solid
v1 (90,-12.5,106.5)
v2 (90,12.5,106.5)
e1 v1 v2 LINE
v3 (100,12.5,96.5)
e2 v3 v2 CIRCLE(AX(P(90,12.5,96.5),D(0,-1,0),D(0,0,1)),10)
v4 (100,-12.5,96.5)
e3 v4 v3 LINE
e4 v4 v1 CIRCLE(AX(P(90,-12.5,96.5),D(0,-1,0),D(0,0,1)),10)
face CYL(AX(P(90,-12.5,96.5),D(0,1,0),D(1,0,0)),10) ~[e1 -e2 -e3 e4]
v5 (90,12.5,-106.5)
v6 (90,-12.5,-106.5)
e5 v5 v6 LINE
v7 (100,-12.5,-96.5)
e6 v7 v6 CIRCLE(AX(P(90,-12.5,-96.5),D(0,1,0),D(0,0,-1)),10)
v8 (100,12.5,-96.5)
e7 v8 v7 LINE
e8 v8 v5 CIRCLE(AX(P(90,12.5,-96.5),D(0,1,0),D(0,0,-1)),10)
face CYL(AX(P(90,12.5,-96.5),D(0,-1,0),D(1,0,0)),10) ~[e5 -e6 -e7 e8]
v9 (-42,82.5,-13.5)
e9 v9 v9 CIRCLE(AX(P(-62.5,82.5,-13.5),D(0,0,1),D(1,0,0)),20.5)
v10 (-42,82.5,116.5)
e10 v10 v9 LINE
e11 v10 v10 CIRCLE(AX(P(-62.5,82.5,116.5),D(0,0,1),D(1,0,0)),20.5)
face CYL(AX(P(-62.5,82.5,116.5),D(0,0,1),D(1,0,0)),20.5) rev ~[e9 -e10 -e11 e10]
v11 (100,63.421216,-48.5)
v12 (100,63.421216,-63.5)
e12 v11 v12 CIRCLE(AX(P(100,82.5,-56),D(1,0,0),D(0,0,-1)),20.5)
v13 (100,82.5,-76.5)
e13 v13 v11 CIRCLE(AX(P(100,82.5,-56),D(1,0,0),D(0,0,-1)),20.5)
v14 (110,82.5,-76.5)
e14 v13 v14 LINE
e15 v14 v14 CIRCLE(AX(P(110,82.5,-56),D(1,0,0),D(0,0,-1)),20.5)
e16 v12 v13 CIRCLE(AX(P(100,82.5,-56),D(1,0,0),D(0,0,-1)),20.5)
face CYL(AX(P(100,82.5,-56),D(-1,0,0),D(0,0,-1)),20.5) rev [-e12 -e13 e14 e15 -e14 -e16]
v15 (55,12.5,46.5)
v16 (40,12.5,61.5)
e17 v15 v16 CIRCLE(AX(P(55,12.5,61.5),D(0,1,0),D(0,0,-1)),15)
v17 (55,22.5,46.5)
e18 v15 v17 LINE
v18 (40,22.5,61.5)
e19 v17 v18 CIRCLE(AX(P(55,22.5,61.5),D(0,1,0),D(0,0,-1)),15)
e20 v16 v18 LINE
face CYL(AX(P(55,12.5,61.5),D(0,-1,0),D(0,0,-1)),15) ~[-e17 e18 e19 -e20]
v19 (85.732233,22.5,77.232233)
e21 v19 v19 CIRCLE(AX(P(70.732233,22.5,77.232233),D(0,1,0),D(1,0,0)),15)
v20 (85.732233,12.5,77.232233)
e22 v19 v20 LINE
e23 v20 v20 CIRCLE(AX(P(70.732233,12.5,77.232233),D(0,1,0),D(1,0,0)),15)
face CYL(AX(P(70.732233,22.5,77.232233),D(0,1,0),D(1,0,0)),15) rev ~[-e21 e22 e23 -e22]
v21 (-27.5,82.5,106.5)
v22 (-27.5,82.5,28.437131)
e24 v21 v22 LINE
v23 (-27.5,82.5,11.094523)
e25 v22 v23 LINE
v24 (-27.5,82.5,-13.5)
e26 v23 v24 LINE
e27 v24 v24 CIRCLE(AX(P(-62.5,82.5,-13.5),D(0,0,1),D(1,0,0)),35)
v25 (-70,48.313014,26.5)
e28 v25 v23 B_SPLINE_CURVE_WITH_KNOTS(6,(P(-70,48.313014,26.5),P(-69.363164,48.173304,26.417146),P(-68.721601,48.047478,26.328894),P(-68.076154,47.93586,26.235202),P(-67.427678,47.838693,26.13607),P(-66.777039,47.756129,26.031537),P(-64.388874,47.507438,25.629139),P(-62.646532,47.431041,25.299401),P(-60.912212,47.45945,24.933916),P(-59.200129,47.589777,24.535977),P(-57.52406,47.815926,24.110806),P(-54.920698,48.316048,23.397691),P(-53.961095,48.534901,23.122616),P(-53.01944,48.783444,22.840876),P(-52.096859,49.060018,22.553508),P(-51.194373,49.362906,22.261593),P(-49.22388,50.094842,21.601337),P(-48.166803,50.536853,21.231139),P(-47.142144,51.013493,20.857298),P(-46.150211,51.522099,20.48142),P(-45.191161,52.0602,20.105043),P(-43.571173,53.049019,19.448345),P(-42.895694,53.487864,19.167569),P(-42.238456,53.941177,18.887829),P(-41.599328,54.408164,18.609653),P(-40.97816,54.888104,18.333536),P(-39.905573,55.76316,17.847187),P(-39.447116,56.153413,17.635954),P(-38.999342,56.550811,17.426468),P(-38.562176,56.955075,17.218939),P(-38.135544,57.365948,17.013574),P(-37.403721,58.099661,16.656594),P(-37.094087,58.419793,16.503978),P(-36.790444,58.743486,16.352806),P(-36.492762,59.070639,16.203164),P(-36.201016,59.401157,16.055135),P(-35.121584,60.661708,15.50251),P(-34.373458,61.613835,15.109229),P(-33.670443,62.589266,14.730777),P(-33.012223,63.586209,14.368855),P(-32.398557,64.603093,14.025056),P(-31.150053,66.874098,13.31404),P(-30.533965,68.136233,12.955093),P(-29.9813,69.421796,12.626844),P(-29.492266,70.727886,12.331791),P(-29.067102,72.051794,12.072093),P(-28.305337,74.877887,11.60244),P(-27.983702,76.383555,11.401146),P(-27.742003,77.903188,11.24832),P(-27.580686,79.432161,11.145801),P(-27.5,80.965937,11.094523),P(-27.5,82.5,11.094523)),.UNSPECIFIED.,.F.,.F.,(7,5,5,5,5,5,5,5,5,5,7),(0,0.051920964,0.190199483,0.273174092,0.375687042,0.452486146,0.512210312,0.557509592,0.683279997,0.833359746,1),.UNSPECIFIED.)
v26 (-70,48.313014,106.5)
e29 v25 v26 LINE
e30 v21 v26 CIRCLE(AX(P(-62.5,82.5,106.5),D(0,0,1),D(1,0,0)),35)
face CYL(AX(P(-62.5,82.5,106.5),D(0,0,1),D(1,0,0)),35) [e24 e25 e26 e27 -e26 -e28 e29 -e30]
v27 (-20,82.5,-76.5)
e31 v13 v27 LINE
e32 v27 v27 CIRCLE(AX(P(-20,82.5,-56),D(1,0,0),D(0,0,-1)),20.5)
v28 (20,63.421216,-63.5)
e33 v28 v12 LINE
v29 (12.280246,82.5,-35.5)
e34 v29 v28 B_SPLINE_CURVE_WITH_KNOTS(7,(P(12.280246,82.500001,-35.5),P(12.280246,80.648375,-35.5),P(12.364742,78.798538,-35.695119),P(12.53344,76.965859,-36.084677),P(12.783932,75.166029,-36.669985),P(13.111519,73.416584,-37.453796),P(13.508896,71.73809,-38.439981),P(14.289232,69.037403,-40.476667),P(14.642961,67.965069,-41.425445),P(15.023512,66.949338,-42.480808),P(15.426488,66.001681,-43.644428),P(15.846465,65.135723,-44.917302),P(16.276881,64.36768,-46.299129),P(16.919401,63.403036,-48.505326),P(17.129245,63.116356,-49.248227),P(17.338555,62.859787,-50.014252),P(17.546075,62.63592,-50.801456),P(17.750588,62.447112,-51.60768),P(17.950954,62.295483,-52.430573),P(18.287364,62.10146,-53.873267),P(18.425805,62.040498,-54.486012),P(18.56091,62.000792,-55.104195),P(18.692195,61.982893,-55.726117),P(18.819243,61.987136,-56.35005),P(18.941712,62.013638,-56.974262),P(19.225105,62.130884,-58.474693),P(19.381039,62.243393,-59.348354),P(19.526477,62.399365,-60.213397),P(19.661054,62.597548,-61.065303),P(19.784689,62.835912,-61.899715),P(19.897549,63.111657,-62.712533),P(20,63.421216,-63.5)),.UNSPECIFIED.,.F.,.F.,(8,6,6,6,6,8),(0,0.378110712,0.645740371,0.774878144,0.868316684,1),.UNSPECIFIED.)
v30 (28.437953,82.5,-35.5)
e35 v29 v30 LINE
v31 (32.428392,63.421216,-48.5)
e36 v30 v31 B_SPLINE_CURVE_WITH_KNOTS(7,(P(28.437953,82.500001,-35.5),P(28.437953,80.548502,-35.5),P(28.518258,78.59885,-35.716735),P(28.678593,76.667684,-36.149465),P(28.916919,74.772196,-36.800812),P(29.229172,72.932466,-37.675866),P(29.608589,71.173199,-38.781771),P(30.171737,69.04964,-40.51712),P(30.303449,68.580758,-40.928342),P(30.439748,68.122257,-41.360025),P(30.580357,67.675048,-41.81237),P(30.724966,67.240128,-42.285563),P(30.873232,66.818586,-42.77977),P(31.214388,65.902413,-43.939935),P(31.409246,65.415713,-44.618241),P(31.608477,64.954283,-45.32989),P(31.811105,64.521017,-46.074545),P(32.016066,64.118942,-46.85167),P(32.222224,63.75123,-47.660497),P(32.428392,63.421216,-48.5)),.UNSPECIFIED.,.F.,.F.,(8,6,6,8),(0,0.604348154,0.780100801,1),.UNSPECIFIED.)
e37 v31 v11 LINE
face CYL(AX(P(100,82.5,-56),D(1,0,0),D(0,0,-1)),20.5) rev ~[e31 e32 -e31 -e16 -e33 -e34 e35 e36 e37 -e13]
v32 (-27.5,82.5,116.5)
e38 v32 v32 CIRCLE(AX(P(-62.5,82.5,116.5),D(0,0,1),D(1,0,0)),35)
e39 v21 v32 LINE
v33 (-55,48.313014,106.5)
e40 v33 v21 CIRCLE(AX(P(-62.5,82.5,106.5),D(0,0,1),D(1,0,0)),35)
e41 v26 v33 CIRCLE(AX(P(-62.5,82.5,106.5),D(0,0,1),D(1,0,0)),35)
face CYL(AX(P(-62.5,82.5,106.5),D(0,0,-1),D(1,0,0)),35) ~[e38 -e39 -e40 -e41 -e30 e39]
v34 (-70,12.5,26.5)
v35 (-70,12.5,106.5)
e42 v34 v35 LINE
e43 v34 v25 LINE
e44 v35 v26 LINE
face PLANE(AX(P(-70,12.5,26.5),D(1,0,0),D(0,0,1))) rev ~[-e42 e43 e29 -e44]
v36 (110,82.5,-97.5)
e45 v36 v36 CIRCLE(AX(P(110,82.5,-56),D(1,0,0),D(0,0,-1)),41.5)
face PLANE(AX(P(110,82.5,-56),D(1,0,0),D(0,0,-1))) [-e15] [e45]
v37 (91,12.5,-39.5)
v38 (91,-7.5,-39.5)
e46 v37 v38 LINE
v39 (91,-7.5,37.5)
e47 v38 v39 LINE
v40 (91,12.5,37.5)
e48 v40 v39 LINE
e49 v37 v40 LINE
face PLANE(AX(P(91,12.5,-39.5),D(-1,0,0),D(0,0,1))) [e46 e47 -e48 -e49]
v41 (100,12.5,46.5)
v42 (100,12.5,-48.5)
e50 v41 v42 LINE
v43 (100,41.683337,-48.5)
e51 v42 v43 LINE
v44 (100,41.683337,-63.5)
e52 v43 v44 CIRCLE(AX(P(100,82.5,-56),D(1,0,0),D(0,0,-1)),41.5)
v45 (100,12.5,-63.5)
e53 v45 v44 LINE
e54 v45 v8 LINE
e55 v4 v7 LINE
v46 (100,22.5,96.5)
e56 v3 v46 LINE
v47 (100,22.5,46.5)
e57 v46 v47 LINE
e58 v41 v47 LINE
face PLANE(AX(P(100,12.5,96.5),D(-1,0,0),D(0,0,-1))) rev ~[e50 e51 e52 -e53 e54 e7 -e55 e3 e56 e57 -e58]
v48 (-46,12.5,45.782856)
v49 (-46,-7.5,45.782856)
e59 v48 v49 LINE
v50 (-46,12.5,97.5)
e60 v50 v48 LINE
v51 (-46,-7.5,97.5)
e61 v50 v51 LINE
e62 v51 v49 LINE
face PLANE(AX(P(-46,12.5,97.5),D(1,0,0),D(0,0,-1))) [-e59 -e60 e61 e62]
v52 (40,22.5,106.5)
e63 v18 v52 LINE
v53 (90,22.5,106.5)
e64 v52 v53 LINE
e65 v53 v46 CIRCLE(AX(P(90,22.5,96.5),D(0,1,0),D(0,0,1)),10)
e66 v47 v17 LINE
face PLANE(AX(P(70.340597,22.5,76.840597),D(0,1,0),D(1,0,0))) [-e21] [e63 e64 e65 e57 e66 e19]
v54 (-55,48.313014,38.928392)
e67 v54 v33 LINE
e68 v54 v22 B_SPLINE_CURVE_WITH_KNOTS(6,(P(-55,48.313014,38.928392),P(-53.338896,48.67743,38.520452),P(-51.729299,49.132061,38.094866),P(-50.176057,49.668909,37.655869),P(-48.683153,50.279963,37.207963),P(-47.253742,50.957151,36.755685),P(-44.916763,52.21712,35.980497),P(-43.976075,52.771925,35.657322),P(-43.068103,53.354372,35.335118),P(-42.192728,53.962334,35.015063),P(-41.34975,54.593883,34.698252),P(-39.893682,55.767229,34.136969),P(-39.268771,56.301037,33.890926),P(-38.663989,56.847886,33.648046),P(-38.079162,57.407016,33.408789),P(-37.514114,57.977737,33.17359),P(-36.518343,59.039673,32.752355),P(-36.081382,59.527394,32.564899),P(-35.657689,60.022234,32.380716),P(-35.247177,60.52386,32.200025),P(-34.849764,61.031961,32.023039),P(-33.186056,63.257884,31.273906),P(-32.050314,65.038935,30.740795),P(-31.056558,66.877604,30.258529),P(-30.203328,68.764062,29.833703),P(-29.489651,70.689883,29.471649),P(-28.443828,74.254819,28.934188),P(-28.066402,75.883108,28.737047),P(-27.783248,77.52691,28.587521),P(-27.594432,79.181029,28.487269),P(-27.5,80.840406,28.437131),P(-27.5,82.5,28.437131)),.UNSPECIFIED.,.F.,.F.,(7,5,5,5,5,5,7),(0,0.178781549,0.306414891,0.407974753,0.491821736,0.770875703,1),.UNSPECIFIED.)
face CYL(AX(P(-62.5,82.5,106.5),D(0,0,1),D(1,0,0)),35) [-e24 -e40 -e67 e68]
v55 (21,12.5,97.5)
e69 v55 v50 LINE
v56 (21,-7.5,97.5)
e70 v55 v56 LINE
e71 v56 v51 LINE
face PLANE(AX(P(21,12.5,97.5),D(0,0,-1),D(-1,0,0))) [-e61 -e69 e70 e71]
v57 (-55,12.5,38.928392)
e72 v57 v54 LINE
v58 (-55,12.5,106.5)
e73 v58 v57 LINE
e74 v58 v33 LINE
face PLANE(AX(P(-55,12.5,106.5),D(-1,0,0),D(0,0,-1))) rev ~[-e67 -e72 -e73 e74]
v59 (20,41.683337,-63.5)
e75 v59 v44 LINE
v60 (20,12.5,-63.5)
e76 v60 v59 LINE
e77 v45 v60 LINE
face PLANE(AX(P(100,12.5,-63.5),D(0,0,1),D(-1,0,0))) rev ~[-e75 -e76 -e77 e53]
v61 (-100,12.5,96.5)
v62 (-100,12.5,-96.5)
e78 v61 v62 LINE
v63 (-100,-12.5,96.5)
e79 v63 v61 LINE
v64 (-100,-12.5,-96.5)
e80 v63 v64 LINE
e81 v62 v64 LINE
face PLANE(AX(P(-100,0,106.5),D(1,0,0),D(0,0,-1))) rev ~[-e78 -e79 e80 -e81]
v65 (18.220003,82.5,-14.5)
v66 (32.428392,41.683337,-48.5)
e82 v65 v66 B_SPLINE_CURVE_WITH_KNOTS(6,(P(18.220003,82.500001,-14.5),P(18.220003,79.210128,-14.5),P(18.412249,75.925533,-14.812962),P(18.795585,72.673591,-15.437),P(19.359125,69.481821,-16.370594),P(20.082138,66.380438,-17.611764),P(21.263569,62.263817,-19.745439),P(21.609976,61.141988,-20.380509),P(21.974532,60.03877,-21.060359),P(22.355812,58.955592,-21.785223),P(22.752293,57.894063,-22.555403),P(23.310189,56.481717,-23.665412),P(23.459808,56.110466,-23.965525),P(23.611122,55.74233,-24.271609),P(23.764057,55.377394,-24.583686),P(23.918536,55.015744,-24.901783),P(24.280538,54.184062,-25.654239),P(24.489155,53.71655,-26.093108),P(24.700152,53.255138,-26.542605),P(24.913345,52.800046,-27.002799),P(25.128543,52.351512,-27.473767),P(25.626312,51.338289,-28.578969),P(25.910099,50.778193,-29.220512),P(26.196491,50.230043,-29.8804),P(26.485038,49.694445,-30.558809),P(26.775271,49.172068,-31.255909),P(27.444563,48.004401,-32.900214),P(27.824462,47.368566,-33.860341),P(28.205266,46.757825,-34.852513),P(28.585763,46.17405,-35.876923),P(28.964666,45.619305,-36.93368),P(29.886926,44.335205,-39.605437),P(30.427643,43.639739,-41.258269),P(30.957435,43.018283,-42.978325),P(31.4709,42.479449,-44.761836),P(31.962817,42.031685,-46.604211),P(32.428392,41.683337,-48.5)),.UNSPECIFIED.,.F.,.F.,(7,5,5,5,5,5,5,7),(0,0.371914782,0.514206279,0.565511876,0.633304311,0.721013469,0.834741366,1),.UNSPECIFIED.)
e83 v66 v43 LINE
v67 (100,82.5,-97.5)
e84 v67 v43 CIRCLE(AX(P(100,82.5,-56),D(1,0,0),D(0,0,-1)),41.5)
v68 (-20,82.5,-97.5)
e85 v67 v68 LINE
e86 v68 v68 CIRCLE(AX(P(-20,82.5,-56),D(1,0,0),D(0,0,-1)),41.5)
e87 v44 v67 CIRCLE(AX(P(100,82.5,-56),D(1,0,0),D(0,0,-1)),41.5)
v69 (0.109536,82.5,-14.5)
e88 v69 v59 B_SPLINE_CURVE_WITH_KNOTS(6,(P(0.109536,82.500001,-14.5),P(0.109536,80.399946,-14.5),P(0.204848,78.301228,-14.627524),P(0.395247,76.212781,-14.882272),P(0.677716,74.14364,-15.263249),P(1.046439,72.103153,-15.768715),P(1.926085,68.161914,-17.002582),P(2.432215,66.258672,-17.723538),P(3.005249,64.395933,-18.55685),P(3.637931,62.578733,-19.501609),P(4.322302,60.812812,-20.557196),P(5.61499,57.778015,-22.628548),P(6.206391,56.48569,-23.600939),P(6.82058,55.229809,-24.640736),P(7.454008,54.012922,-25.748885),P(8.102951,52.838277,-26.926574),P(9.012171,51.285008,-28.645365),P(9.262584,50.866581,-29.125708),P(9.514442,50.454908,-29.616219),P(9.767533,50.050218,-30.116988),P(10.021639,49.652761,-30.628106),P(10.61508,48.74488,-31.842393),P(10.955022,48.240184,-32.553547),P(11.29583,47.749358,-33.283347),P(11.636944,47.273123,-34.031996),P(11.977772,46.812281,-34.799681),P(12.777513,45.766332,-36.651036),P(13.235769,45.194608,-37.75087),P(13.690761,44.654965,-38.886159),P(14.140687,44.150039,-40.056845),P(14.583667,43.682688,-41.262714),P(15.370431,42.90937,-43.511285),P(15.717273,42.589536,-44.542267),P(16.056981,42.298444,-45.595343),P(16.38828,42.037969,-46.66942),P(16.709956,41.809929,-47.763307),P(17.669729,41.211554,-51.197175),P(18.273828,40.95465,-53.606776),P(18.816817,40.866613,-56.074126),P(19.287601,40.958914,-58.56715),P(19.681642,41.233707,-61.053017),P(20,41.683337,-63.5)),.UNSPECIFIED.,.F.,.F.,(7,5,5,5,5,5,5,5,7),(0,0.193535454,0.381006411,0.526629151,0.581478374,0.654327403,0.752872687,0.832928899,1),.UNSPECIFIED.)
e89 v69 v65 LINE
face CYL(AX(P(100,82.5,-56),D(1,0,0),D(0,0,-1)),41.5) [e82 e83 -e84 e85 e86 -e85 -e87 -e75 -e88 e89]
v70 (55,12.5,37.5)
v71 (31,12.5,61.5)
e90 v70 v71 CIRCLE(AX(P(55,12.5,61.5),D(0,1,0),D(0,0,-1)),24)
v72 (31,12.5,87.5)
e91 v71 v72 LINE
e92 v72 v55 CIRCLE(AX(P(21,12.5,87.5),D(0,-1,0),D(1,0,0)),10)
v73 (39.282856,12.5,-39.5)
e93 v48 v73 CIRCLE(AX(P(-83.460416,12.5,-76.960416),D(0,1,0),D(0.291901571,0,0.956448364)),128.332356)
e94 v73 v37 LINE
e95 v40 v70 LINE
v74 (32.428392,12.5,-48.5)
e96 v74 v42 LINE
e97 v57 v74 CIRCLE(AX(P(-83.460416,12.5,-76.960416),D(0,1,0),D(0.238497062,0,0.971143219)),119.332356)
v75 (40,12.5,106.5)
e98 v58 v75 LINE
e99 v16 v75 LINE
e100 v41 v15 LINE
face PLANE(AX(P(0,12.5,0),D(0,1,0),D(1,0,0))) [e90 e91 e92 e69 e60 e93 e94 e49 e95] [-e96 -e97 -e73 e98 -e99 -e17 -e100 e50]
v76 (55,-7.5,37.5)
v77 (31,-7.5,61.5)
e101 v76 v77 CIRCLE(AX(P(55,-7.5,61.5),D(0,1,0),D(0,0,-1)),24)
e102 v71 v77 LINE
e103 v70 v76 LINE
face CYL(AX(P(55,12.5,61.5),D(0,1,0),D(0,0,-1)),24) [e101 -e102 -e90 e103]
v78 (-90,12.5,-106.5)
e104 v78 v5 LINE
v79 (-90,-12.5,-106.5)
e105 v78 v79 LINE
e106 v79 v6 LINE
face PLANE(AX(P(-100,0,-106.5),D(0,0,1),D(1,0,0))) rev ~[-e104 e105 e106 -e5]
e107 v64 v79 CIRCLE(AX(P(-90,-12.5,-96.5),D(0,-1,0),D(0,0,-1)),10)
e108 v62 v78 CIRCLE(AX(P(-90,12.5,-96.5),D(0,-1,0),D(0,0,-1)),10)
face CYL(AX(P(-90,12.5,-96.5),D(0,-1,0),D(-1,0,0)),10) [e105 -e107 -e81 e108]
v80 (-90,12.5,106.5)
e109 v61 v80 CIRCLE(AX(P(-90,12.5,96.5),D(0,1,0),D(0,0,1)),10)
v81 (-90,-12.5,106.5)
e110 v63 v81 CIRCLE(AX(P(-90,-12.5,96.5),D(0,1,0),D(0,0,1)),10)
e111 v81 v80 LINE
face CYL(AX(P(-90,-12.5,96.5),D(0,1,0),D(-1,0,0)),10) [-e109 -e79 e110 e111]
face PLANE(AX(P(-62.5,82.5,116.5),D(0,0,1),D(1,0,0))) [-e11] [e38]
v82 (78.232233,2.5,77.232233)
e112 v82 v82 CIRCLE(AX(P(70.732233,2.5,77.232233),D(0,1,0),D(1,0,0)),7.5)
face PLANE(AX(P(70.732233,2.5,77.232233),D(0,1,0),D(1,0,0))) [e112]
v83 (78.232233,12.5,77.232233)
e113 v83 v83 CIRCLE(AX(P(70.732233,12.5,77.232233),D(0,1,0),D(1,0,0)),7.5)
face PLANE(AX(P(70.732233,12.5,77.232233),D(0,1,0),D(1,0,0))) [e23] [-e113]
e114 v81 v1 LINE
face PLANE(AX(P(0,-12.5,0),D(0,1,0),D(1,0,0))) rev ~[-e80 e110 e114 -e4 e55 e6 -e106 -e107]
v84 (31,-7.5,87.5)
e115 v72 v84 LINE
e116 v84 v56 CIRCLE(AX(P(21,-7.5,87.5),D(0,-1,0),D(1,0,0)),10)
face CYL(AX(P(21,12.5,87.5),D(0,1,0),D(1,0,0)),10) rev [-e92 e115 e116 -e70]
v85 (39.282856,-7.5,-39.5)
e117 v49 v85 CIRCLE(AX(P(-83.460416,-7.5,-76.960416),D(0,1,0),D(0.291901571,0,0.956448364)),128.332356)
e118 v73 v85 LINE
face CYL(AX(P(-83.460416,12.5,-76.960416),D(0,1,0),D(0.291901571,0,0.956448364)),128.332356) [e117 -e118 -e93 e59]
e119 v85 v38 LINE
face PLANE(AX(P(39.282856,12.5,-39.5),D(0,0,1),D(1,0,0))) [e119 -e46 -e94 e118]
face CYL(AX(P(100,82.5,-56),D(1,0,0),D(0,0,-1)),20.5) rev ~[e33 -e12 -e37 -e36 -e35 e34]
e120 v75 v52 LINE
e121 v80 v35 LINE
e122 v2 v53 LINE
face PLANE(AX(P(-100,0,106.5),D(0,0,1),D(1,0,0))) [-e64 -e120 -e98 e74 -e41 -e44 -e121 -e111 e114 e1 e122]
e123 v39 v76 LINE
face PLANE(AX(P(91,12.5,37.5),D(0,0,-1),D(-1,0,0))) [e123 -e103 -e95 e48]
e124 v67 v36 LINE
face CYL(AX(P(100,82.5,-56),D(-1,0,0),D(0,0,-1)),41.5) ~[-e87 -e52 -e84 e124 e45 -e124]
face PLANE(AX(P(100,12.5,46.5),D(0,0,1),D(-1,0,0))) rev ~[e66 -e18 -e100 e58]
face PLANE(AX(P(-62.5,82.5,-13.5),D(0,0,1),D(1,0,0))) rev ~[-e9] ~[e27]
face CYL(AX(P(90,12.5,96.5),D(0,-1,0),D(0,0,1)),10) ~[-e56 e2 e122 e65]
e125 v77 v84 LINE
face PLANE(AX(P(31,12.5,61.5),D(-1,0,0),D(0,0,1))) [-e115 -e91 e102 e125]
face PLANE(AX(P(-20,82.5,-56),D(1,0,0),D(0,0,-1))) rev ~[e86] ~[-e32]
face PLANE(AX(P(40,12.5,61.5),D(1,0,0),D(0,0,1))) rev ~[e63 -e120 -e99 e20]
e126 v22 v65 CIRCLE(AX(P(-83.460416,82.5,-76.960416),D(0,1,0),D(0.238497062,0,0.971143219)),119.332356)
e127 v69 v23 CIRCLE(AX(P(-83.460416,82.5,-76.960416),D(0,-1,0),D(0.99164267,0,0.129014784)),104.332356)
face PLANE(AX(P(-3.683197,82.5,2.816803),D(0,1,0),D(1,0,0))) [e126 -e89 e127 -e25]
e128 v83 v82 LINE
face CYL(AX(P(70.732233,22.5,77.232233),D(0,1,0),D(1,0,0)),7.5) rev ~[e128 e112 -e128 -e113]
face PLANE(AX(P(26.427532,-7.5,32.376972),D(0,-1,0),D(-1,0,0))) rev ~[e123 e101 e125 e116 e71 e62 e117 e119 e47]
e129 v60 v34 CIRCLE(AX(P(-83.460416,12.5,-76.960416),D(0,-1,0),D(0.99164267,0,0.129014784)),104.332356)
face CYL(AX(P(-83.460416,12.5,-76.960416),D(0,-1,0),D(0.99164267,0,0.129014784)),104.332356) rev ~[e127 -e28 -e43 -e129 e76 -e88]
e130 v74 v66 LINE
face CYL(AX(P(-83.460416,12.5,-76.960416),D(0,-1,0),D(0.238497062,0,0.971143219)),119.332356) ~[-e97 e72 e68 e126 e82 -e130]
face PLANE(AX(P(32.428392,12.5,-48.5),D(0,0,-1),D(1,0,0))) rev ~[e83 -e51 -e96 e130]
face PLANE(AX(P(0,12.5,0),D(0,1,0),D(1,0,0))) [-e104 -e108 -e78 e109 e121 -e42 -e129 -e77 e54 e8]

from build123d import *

# Parameters (mm, degrees)
SKETCH1_W                = 200
SKETCH1_H                = 213
BOSS_EXTRUDE1_DEPTH      = 12.5
FILLET1_R                = 10
BOSS_EXTRUDE2_DEPTH      = 70
BOSS_EXTRUDE3_DEPTH      = 10
CUT_EXTRUDE1_DEPTH       = 20
SKETCH5_R                = 7.5
CUT_EXTRUDE2_DEPTH       = 20
SKETCH6_R                = 15
CUT_EXTRUDE3_DEPTH       = 10
SKETCH8_R                = 35
BOSS_EXTRUDE4_DEPTH      = 10
BOSS_EXTRUDE4_DEPTH_BACK = 120
SKETCH9_R                = 20.5
CUT_EXTRUDE4_DEPTH       = 224
SKETCH10_R               = 41.5
SKETCH10_R_2             = 20.5
BOSS_EXTRUDE5_DEPTH      = 10
BOSS_EXTRUDE5_DEPTH_BACK = 120
SKETCH11_R               = 20.5
CUT_EXTRUDE5_DEPTH       = 201


with BuildPart() as part:
    # Sketch1 → Boss-Extrude1 (new body, symmetric)
    with BuildSketch(Plane(origin=(0, 0, 0), x_dir=(1, 0, 0), z_dir=(0, 1, 0))):
        Rectangle(SKETCH1_W, SKETCH1_H)
    extrude(amount=BOSS_EXTRUDE1_DEPTH, both=True)

    # Fillet1
    fillet1_edges = [part.edges().sort_by_distance(p)[0] for p in [
        (100, 0, 106.5),
        (-100, 0, 106.5),
        (-100, 0, -106.5),
        (100, 0, -106.5),
    ]]
    fillet(fillet1_edges, radius=FILLET1_R)

    # Sketch2 → Boss-Extrude2 (add)
    with BuildSketch(Plane(origin=(0, 12.5, 0), x_dir=(1, 0, 0), z_dir=(0, 1, 0))):
        with BuildLine():
            Line((-70, -106.5), (-55, -106.5))
            Line((-55, -106.5), (-55, -38.928392203))
            ThreePointArc((-55, -38.928392203), (0.920301962, -7.420301962), (32.428392203, 48.5))
            Line((32.428392203, 48.5), (100, 48.5))
            Line((100, 48.5), (100, 63.5))
            Line((100, 63.5), (20, 63.5))
            ThreePointArc((20, 63.5), (-9.686299755, 3.186299755), (-70, -26.5))
            Line((-70, -26.5), (-70, -106.5))
        make_face()
    extrude(amount=BOSS_EXTRUDE2_DEPTH)

    # Sketch3 → Boss-Extrude3 (add)
    with BuildSketch(Plane(origin=(0, 12.5, 0), x_dir=(1, 0, 0), z_dir=(0, 1, 0))):
        with BuildLine():
            Line((100, -46.5), (55, -46.5))
            ThreePointArc((55, -46.5), (44.393398282, -50.893398282), (40, -61.5))
            Line((40, -61.5), (40, -106.5))
            Line((40, -106.5), (90, -106.5))
            ThreePointArc((90, -106.5), (97.071067812, -103.571067812), (100, -96.5))
            Line((100, -96.5), (100, -46.5))
        make_face()
    extrude(amount=BOSS_EXTRUDE3_DEPTH)

    # Sketch4 → Cut-Extrude1 (cut)
    with BuildSketch(Plane(origin=(0, 12.5, 0), x_dir=(1, 0, 0), z_dir=(0, 1, 0))):
        with BuildLine():
            Line((-46, -97.5), (-46, -45.782855831))
            ThreePointArc((-46, -45.782855831), (7.284262993, -13.784262993), (39.282855831, 39.5))
            Line((39.282855831, 39.5), (91, 39.5))
            Line((91, 39.5), (91, -37.5))
            Line((91, -37.5), (55, -37.5))
            ThreePointArc((55, -37.5), (38.029437252, -44.529437252), (31, -61.5))
            Line((31, -61.5), (31, -87.5))
            ThreePointArc((31, -87.5), (28.071067812, -94.571067812), (21, -97.5))
            Line((21, -97.5), (-46, -97.5))
        make_face()
    extrude(amount=-CUT_EXTRUDE1_DEPTH, mode=Mode.SUBTRACT)

    # Sketch5 → Cut-Extrude2 (cut)
    with BuildSketch(Plane(origin=(0, 22.5, 0), x_dir=(1, 0, 0), z_dir=(0, 1, 0))):
        with Locations((70.732233047, -77.232233047)):
            Circle(SKETCH5_R)
    extrude(amount=-CUT_EXTRUDE2_DEPTH, mode=Mode.SUBTRACT)

    # Sketch6 → Cut-Extrude3 (cut)
    with BuildSketch(Plane(origin=(0, 22.5, 0), x_dir=(1, 0, 0), z_dir=(0, 1, 0))):
        with Locations((70.732233047, -77.232233047)):
            Circle(SKETCH6_R)
    extrude(amount=-CUT_EXTRUDE3_DEPTH, mode=Mode.SUBTRACT)

    # Sketch8 → Boss-Extrude4 (add, two sides)
    with BuildSketch(Plane.XY.offset(106.5)) as boss_extrude4_sk:
        with Locations((-62.5, 82.5)):
            Circle(SKETCH8_R)
    extrude(amount=BOSS_EXTRUDE4_DEPTH)
    extrude(boss_extrude4_sk.sketch, amount=-BOSS_EXTRUDE4_DEPTH_BACK)

    # Sketch9 → Cut-Extrude4 (cut, through all)
    with BuildSketch(Plane.XY.offset(116.5)):
        with Locations((-62.5, 82.5)):
            Circle(SKETCH9_R)
    extrude(amount=-CUT_EXTRUDE4_DEPTH, mode=Mode.SUBTRACT)

    # Sketch10 → Boss-Extrude5 (add, two sides)
    with BuildSketch(Plane(origin=(100, 0, 0), x_dir=(0, 0, -1), z_dir=(1, 0, 0))) as boss_extrude5_sk:
        with Locations((56, 82.5)):
            Circle(SKETCH10_R)
        with Locations((56, 82.5)):
            Circle(SKETCH10_R_2, mode=Mode.SUBTRACT)
    extrude(amount=BOSS_EXTRUDE5_DEPTH)
    extrude(boss_extrude5_sk.sketch, amount=-BOSS_EXTRUDE5_DEPTH_BACK)

    # Sketch11 → Cut-Extrude5 (cut, through all)
    with BuildSketch(Plane(origin=(100, 0, 0), x_dir=(0, 0, -1), z_dir=(1, 0, 0))):
        with Locations((56, 82.5)):
            Circle(SKETCH11_R)
    extrude(amount=-CUT_EXTRUDE5_DEPTH, mode=Mode.SUBTRACT)


solid = part.part
